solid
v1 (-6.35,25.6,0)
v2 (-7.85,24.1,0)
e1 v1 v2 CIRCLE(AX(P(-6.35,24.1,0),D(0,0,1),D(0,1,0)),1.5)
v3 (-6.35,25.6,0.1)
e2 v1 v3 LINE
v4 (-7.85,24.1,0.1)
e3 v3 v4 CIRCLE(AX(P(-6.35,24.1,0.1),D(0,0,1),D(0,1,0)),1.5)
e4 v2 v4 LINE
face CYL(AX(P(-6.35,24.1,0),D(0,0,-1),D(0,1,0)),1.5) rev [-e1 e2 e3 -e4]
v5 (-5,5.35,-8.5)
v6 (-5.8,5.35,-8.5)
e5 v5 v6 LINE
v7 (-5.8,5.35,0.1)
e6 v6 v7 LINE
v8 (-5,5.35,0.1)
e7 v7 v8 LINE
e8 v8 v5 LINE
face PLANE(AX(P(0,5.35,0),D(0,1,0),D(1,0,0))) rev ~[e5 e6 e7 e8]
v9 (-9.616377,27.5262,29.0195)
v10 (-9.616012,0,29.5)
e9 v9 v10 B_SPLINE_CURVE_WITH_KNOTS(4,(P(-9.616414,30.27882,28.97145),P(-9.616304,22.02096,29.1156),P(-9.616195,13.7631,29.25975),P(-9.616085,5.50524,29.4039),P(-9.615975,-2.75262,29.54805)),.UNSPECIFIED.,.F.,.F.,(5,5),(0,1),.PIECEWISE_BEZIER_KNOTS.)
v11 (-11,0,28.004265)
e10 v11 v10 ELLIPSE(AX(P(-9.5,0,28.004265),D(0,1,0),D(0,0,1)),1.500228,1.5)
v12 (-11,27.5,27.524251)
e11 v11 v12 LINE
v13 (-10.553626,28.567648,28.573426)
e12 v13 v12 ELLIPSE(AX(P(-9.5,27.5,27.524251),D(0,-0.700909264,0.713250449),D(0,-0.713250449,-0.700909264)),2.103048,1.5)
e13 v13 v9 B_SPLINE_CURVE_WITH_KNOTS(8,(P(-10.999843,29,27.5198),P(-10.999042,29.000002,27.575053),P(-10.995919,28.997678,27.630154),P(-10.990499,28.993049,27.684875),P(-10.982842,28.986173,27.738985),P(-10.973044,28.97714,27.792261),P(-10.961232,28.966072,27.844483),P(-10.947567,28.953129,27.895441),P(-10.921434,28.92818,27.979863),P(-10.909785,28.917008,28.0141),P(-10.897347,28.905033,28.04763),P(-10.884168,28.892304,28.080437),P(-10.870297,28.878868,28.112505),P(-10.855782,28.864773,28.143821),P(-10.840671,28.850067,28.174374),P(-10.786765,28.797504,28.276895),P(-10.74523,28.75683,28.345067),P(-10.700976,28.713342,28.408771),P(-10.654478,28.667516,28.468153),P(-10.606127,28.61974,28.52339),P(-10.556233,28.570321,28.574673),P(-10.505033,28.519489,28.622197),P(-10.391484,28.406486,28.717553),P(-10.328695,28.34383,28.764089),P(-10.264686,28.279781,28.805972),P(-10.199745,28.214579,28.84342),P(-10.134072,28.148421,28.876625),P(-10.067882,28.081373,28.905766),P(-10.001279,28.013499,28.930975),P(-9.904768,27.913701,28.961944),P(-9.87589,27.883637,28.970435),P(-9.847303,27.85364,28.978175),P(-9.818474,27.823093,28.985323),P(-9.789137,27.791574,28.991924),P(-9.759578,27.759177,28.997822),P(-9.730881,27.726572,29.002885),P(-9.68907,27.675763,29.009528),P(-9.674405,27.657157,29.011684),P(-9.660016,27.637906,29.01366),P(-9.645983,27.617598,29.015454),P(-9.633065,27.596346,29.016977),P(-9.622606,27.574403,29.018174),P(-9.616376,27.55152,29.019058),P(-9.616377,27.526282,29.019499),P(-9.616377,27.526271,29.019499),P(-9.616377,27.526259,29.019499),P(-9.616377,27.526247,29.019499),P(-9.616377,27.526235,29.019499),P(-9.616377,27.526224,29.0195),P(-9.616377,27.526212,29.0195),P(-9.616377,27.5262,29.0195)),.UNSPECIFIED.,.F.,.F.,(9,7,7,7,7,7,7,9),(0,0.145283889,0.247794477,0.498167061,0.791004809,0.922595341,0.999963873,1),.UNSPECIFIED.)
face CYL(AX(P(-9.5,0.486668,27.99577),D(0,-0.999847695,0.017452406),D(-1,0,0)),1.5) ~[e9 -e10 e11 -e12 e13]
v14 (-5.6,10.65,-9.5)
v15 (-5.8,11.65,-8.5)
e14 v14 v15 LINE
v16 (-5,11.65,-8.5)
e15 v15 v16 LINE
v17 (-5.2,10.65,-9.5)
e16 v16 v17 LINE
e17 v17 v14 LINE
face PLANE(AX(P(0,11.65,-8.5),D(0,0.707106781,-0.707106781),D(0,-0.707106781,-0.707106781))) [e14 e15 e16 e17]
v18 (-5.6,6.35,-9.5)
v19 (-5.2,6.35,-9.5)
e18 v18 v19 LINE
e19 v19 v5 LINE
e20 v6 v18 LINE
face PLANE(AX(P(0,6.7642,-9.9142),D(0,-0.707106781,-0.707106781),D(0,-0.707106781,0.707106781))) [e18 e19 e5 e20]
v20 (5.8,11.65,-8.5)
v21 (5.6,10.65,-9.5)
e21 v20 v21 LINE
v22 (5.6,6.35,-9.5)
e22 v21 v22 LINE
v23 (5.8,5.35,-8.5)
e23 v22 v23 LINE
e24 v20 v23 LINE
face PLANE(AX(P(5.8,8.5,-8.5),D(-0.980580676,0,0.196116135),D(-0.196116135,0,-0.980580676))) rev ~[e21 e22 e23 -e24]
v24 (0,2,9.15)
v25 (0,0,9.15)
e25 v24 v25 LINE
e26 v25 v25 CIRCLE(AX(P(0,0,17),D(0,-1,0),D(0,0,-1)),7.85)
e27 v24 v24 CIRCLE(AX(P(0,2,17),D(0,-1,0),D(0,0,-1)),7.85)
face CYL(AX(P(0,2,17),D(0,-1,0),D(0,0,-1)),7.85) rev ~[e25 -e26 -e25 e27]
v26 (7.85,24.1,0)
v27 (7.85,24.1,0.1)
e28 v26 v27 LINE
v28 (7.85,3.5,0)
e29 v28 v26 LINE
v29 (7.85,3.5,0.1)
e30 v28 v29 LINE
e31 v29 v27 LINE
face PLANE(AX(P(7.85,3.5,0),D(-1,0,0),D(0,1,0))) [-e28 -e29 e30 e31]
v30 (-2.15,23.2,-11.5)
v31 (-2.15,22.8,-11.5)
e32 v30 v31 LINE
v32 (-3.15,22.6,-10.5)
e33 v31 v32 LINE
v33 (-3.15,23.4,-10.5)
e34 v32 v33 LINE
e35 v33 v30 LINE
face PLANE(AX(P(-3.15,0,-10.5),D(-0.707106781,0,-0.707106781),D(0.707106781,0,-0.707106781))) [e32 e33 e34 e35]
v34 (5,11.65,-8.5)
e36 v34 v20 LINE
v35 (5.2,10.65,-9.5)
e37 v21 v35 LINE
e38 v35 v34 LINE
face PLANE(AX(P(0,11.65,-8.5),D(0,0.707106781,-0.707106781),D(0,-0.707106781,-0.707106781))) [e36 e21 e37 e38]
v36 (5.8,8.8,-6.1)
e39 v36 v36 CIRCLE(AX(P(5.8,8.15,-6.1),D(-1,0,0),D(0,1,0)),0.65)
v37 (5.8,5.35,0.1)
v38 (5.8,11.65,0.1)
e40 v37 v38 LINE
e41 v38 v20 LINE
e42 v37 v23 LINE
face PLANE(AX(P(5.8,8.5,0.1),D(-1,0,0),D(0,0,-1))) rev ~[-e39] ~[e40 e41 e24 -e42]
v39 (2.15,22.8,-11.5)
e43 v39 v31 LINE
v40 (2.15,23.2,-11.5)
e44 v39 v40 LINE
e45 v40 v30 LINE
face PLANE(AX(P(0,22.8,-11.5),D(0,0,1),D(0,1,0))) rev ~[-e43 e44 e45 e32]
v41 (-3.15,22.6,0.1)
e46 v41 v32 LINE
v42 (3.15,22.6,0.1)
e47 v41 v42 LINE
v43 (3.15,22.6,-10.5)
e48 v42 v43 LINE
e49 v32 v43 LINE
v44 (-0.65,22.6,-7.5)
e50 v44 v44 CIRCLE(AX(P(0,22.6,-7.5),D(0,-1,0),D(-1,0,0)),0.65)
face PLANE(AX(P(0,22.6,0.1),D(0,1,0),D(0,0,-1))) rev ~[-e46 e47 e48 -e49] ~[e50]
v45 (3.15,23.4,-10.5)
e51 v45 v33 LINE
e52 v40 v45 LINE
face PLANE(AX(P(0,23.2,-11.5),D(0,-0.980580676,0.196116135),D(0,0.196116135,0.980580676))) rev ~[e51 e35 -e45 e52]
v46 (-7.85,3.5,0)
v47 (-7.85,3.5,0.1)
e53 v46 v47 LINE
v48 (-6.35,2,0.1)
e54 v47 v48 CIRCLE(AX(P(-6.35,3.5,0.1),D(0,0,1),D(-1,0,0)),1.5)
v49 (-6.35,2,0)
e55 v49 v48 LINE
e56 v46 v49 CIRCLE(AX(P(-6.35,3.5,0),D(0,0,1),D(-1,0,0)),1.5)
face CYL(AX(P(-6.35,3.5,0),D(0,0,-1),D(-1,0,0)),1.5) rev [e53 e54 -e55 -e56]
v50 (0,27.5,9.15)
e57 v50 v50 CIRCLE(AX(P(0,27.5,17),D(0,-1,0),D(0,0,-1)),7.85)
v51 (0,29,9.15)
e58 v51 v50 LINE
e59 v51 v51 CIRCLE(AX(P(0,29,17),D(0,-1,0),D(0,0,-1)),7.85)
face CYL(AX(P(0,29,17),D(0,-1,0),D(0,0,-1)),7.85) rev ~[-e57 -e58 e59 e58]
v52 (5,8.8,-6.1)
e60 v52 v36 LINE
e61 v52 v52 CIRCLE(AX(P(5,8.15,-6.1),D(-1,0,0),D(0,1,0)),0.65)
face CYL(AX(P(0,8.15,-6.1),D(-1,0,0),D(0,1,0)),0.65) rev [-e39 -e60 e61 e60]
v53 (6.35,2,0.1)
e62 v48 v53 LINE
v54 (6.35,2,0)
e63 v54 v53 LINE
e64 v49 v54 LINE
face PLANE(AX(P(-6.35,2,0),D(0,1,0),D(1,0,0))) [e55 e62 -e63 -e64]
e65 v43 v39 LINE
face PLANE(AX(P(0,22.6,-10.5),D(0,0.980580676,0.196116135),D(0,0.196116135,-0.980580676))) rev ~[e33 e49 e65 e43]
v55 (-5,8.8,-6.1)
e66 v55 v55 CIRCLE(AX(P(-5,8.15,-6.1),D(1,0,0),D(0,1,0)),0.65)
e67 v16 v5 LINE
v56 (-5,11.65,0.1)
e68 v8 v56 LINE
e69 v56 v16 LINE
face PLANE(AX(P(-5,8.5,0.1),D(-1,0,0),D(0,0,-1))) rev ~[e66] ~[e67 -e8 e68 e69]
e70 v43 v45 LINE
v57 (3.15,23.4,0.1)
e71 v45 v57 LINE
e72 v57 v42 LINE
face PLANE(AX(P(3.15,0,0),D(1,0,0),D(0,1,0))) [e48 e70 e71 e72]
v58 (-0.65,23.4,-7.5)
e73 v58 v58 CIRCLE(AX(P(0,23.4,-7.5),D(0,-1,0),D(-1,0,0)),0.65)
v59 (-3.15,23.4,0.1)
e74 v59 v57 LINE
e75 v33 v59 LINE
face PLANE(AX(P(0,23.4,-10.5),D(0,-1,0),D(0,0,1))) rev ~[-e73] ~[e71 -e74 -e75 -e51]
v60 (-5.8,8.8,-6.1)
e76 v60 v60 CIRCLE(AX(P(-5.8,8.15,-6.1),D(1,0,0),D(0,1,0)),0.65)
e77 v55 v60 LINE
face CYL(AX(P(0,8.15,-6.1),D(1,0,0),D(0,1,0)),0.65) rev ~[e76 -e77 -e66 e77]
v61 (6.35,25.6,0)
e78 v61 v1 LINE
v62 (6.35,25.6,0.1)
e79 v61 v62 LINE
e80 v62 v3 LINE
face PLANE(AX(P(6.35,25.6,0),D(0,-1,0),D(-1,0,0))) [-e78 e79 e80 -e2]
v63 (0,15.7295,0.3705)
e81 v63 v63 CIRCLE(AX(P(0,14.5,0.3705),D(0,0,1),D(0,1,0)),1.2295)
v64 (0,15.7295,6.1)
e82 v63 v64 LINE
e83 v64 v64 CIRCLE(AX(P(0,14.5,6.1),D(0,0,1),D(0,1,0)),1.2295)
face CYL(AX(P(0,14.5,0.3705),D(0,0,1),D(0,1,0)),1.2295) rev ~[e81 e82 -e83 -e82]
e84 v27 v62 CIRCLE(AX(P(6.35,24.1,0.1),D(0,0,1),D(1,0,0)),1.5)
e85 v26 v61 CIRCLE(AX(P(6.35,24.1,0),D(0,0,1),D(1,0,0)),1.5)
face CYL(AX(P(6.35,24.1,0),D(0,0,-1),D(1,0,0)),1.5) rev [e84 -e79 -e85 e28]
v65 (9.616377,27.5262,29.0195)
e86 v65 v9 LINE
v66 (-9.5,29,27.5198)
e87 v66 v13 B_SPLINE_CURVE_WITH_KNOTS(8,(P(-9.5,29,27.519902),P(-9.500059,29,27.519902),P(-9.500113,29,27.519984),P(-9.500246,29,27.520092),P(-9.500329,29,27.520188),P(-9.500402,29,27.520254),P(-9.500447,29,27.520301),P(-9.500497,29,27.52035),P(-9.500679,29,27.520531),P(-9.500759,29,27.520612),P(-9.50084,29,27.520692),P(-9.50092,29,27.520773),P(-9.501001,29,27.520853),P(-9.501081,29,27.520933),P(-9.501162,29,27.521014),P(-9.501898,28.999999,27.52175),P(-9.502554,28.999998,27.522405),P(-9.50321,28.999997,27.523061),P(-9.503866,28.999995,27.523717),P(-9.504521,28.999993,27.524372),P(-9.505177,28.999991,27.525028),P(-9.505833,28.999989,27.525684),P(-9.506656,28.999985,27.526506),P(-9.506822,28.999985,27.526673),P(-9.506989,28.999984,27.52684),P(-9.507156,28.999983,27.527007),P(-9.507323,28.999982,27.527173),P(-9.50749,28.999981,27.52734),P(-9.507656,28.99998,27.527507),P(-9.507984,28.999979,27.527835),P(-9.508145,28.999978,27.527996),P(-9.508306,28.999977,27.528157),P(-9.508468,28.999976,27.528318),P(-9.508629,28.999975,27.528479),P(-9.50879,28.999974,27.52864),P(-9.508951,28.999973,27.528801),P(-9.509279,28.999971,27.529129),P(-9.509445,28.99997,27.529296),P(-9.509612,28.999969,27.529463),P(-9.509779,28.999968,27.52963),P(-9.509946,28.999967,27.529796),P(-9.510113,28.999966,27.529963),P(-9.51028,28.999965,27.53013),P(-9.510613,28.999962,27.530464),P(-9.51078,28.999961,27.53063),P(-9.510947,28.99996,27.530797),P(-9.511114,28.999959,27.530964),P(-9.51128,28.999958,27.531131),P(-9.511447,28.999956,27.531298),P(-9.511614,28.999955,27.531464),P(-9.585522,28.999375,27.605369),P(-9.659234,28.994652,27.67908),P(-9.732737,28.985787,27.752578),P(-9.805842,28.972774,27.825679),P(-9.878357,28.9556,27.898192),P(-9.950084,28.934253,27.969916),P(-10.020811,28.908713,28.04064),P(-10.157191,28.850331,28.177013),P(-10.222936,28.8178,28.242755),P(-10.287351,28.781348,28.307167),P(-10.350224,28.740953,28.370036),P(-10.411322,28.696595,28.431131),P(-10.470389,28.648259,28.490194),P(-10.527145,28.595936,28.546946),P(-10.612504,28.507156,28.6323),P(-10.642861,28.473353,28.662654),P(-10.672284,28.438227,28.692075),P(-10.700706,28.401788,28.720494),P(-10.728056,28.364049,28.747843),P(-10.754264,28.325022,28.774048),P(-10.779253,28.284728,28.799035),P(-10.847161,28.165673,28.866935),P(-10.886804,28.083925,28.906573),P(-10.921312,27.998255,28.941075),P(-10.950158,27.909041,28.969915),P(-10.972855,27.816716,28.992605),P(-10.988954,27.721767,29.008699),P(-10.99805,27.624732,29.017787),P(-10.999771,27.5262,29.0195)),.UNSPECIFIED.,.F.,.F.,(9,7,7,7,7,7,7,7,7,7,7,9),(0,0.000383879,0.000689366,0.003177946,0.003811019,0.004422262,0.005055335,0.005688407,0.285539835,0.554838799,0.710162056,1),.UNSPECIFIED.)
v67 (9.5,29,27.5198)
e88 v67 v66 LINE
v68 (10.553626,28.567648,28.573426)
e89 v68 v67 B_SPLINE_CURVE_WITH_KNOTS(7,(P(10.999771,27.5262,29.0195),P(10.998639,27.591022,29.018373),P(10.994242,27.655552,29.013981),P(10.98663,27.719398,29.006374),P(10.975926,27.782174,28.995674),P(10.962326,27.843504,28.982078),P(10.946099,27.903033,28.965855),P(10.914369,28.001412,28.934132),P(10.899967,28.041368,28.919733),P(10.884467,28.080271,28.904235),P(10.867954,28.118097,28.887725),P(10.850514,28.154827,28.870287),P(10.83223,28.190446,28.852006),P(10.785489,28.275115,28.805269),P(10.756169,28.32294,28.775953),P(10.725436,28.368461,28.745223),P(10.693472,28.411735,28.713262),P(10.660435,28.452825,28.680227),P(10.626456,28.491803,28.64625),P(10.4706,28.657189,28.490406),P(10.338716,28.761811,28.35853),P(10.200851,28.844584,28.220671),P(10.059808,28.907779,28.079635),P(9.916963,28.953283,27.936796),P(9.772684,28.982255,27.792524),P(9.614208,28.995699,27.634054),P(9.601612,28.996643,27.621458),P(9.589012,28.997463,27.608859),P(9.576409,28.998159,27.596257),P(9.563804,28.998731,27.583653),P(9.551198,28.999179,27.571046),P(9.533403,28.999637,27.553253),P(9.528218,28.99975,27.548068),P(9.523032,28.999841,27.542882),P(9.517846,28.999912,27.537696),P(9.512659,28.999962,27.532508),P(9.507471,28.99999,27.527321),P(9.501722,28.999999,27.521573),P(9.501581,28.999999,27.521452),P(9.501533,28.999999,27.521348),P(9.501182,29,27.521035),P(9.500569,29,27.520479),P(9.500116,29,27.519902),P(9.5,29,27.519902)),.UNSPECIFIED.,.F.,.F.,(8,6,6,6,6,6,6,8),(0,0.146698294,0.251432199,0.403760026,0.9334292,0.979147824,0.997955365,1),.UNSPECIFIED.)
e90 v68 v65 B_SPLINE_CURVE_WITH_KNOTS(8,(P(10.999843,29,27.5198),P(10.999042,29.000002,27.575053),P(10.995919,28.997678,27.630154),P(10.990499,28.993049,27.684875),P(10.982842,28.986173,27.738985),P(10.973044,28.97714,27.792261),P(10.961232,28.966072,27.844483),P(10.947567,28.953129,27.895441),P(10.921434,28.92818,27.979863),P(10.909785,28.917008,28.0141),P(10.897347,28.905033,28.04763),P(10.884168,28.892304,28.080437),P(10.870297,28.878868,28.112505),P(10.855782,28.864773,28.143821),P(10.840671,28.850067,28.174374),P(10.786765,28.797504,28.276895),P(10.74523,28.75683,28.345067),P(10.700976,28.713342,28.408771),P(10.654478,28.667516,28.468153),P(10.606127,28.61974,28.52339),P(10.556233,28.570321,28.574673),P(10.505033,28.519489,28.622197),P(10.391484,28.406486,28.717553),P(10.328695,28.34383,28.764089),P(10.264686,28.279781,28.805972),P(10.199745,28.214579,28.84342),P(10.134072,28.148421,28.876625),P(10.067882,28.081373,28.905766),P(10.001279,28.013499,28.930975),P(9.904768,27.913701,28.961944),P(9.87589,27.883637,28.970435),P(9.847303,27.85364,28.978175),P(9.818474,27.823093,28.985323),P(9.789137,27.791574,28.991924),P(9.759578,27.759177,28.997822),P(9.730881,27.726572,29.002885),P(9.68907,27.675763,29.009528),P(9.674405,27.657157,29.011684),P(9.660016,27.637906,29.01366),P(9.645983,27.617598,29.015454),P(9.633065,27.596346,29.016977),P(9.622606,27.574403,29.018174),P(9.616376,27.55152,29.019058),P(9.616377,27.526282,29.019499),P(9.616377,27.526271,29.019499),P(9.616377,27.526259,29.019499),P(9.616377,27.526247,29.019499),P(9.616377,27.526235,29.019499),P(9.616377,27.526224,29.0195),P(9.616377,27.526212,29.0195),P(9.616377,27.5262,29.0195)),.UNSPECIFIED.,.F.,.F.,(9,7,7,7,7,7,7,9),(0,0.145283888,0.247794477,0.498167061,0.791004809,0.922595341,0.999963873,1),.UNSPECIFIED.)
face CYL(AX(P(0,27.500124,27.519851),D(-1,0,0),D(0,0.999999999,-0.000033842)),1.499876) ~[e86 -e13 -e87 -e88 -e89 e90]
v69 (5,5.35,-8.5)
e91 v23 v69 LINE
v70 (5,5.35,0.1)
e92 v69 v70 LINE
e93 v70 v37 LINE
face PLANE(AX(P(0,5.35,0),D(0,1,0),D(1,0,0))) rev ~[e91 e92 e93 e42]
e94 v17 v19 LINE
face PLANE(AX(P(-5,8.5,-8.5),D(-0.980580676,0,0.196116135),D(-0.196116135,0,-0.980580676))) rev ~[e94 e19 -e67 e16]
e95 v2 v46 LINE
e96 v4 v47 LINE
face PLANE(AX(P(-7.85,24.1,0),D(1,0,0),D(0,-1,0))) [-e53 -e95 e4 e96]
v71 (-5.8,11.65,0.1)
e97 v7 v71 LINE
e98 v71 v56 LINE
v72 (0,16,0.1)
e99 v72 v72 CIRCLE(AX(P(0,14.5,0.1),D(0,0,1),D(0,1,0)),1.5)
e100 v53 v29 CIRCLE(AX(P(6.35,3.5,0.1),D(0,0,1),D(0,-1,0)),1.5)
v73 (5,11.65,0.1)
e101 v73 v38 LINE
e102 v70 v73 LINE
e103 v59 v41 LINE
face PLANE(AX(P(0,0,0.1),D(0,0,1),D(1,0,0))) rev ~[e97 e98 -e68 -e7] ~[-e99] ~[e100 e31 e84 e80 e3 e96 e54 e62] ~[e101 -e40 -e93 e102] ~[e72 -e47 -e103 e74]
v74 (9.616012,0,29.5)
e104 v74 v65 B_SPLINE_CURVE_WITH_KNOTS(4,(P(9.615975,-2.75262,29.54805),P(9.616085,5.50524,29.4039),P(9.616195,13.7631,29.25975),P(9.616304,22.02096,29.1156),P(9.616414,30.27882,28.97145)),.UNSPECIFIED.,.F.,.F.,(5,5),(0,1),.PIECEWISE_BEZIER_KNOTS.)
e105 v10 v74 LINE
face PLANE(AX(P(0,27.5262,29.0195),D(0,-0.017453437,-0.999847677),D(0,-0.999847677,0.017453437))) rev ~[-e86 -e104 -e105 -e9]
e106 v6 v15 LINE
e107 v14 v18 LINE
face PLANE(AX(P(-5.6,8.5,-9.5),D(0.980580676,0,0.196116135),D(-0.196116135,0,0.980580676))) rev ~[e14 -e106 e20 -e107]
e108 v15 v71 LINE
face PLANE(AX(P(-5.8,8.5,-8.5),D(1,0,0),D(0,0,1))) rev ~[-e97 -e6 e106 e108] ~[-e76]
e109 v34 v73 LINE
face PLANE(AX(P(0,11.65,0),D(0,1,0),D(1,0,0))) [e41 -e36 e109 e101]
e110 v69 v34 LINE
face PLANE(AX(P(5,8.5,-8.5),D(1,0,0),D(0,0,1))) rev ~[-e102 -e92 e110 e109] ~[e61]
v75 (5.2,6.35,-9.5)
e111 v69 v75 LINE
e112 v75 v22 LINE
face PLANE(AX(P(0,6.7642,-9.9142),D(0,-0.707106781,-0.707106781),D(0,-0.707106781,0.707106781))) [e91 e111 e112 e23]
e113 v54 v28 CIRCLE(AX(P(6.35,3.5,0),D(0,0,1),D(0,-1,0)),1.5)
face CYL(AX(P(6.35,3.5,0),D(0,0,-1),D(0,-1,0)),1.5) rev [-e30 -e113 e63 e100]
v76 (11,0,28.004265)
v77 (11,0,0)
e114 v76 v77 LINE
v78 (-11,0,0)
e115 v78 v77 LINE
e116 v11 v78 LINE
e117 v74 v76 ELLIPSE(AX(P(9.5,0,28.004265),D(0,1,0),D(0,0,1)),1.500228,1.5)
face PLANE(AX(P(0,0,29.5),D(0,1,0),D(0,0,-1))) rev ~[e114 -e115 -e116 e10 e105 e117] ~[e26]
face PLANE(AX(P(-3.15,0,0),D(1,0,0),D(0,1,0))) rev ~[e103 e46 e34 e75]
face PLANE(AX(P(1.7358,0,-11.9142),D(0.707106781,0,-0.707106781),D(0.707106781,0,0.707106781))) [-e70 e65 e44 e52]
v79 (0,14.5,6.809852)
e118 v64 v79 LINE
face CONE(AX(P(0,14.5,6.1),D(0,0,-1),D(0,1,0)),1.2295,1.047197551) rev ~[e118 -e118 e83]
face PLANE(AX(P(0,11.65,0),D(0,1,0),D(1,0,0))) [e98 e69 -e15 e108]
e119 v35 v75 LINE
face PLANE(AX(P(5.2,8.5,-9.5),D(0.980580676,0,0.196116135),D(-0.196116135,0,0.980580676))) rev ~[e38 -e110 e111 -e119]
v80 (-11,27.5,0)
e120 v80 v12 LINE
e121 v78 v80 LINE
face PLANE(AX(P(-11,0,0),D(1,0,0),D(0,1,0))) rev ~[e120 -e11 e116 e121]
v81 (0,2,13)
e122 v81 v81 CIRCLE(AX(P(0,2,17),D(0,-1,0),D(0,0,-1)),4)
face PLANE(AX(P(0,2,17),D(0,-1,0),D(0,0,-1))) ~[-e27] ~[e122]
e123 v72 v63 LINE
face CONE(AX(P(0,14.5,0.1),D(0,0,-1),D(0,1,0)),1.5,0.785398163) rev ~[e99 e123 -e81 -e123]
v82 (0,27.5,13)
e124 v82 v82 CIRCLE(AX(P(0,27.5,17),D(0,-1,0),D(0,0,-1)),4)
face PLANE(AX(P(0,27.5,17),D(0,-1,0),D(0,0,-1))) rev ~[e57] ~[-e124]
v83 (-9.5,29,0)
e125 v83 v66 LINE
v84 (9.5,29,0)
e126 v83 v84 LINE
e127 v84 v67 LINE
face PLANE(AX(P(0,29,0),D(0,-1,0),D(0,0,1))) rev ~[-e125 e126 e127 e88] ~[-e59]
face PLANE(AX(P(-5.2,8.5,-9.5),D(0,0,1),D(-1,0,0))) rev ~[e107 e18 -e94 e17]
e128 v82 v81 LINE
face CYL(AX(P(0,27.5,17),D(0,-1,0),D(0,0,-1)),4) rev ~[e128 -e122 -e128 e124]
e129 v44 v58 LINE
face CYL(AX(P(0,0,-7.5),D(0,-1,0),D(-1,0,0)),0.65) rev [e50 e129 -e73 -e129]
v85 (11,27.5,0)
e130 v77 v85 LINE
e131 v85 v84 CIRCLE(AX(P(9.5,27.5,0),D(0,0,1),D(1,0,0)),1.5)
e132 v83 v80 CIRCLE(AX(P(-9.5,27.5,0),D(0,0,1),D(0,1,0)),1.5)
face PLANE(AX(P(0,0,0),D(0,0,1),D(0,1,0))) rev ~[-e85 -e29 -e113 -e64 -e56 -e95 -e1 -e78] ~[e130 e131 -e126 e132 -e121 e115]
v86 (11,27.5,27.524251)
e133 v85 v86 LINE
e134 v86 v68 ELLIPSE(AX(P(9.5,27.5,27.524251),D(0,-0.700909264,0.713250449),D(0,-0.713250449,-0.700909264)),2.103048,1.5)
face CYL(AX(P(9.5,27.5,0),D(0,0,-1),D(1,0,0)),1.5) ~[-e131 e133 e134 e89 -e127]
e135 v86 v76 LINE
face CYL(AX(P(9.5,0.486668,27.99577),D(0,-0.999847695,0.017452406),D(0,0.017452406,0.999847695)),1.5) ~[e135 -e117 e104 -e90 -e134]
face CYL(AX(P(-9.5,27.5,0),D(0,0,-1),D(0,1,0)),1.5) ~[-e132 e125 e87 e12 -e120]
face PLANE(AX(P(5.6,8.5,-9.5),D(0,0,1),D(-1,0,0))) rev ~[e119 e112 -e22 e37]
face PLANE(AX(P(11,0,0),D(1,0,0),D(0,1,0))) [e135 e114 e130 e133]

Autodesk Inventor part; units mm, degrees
sketch "Sketch_2" plane through (0, 0, 0) normal (1, 0, 0) x (0, 1, 0)
  line L0 (0, 29.5) -> (0, 0)
  line L1 (0, 0) -> (29, 0)
  line L2 (29, 0) -> (29, 27.5198)
  arc A0 (29, 27.5198) -> (27.5262, 29.0195) centre (27.5, 27.5198) ccw
  line L3 (27.5262, 29.0195) -> (0, 29.5)
extrude "Extrusion1" add sketch "Sketch_2" along normal mid plane 22
sketch "Sketch_3" plane through (0, 0, 0) normal (0, 0.9998, -0.0175) x (1, 0, 0)
  line L0 (-11, -28) -> (-11, -38)
  line L1 (-11, -38) -> (11, -38)
  line L2 (11, -38) -> (11, -28)
  arc A0 (9.5, -29.5) -> (11, -28) centre (9.5, -28) ccw
  line L3 (9.5, -29.5) -> (-9.5, -29.5)
  arc A1 (-11, -28) -> (-9.5, -29.5) centre (-9.5, -28) ccw
extrude "Extrusion2" cut sketch "Sketch_3" along normal mid plane 60
sketch "Sketch_4" plane through (0, 0, 0) normal (0, 0, 1) x (1, 0, 0)
  arc A0 (-9.5, 29) -> (-11, 27.5) centre (-9.5, 27.5) ccw
  line L0 (-9.5, 29) -> (9.5, 29)
  arc A1 (11, 27.5) -> (9.5, 29) centre (9.5, 27.5) ccw
  line L1 (11, 27.5) -> (11, 37.5)
  line L2 (11, 37.5) -> (-11, 37.5)
  line L3 (-11, 37.5) -> (-11, 27.5)
extrude "Extrusion3" cut sketch "Sketch_4" along normal blind 29.5
sketch "Sketch_5" plane through (0, 0, 0) normal (1, 0, 0) x (0, 1, 0)
  line L0 (0, 17) -> (29, 17)
  line L1 (29, 17) -> (29, 9.15)
  line L2 (29, 9.15) -> (27.5, 9.15)
  line L3 (27.5, 9.15) -> (27.5, 13)
  line L4 (27.5, 13) -> (2, 13)
  line L5 (2, 13) -> (2, 9.15)
  line L6 (2, 9.15) -> (0, 9.15)
  line L7 (0, 9.15) -> (0, 17)
  line L8 (0, 17) -> (29, 17)
revolve "Revolution1" cut sketch "Sketch_5" angle 360 about axis through (0, 0, 17) along (0, -1, 0)
sketch "Sketch_16" plane through (0, 0, 0) normal (0, 0, 1) x (1, 0, 0)
  arc A0 (-7.85, 3.5) -> (-6.35, 2) centre (-6.35, 3.5) ccw
  line L0 (-6.35, 2) -> (6.35, 2)
  arc A1 (6.35, 2) -> (7.85, 3.5) centre (6.35, 3.5) ccw
  line L1 (7.85, 3.5) -> (7.85, 24.1)
  arc A2 (7.85, 24.1) -> (6.35, 25.6) centre (6.35, 24.1) ccw
  line L2 (6.35, 25.6) -> (-6.35, 25.6)
  arc A3 (-6.35, 25.6) -> (-7.85, 24.1) centre (-6.35, 24.1) ccw
  line L3 (-7.85, 24.1) -> (-7.85, 3.5)
extrude "Extrusion4" cut sketch "Sketch_16" along normal blind 0.1
sketch "Sketch6" plane through (0, 0, 0.1) normal (0, 0, -1) x (-1, 0, 0)
  point P0 (0, 14.5)
hole "Hole1" at (0, 14.5, 0.1) direction (0, 0, 1) diameter 2.459 depth 6 tip angle 120 countersink diameter 3 countersink angle 90 thread size "M3x0.5" class "6H" standard "ISO Metric profile"
sketch "Sketch_18" plane through (0, 0, 0) normal (1, 0, 0) x (0, 1, 0)
  line L0 (23.4, 0.1) -> (22.6, 0.1)
  line L1 (22.6, 0.1) -> (22.6, -10.5)
  line L2 (22.6, -10.5) -> (22.8, -11.5)
  line L3 (22.8, -11.5) -> (23.2, -11.5)
  line L4 (23.2, -11.5) -> (23.4, -10.5)
  line L5 (23.4, -10.5) -> (23.4, 0.1)
extrude "Extrusion5" add sketch "Sketch_18" along normal mid plane 6.3
sketch "Sketch_7" plane through (0, 8.5, 0) normal (0, 1, 0) x (1, 0, 0)
  line L0 (5, 8.5) -> (5, -0.1)
  line L1 (5, -0.1) -> (5.8, -0.1)
  line L2 (5.8, -0.1) -> (5.8, 8.5)
  line L3 (5.8, 8.5) -> (5.6, 9.5)
  line L4 (5.6, 9.5) -> (5.2, 9.5)
  line L5 (5.2, 9.5) -> (5, 8.5)
extrude "Extrusion6" add sketch "Sketch_7" along normal mid plane 6.3
sketch "Sketch_8" plane through (0, 8.5, 0) normal (0, 1, 0) x (1, 0, 0)
  line L0 (-5.8, 8.5) -> (-5.8, -0.1)
  line L1 (-5.8, -0.1) -> (-5, -0.1)
  line L2 (-5, -0.1) -> (-5, 8.5)
  line L3 (-5, 8.5) -> (-5.2, 9.5)
  line L4 (-5.2, 9.5) -> (-5.6, 9.5)
  line L5 (-5.6, 9.5) -> (-5.8, 8.5)
extrude "Extrusion7" add sketch "Sketch_8" along normal mid plane 6.3
sketch "Sketch_10" plane through (0, 0, 0) normal (0, 1, 0) x (-1, 0, 0)
  circle A0 centre (0, -7.5) radius 0.65
extrude "Extrusion8" cut sketch "Sketch_10" along normal blind 29
sketch "Sketch_11" plane through (0, 0, 0) normal (1, 0, 0) x (0, 1, 0)
  circle A0 centre (8.15, -6.1) radius 0.65
extrude "Extrusion9" cut sketch "Sketch_11" along normal mid plane 22
sketch "Sketch_12" plane through (0, 0, 0) normal (0, 1, 0) x (-1, 0, 0)
  line L0 (3.15, -10.5) -> (1.7358, -11.9142)
  line L1 (1.7358, -11.9142) -> (-1.7358, -11.9142)
  line L2 (-1.7358, -11.9142) -> (-3.15, -10.5)
  line L3 (-3.15, -10.5) -> (-3.15, -12.5)
  line L4 (-3.15, -12.5) -> (3.15, -12.5)
  line L5 (3.15, -12.5) -> (3.15, -10.5)
extrude "Extrusion10" cut sketch "Sketch_12" along normal blind 29
sketch "Sketch_13" plane through (0, 0, 0) normal (1, 0, 0) x (0, 1, 0)
  line L0 (11.65, -8.5) -> (10.2358, -9.9142)
  line L1 (10.2358, -9.9142) -> (6.7642, -9.9142)
  line L2 (6.7642, -9.9142) -> (5.35, -8.5)
  line L3 (5.35, -8.5) -> (5.35, -10.5)
  line L4 (5.35, -10.5) -> (11.65, -10.5)
  line L5 (11.65, -10.5) -> (11.65, -8.5)
extrude "Extrusion11" cut sketch "Sketch_13" along normal mid plane 22
ref_plane "2DUMMY_XY" through (0, 14.5, 0) normal (0, 0, -1) x (1, 0, 0)
ref_plane "2DUMMY_YZ" through (0, 14.5, 0) normal (1, 0, 0) x (0, -1, 0)
ref_plane "2DUMMY_ZX" through (0, 14.5, 0) normal (0, -1, 0) x (0, 0, -1)
ref_plane "ANBAU_Stecker_XY" through (0, 14.5, 0) normal (0, 0, 1) x (1, 0, 0)
ref_plane "ANBAU_Stecker_YZ" through (0, 14.5, 0) normal (1, 0, 0) x (0, 1, 0)
ref_plane "ANBAU_Stecker_ZX" through (0, 14.5, 0) normal (0, 1, 0) x (0, 0, 1)
ref_plane "IP1_XY" through (0, 27.5, 17) normal (0, -1, 0) x (1, 0, 0)
ref_plane "IP1_YZ" through (0, 27.5, 17) normal (1, 0, 0) x (0, 0, 1)
ref_plane "IP1_ZX" through (0, 27.5, 17) normal (0, 0, 1) x (0, -1, 0)
properties part number "389924 MSFG-24-42-50/60---(P)"
